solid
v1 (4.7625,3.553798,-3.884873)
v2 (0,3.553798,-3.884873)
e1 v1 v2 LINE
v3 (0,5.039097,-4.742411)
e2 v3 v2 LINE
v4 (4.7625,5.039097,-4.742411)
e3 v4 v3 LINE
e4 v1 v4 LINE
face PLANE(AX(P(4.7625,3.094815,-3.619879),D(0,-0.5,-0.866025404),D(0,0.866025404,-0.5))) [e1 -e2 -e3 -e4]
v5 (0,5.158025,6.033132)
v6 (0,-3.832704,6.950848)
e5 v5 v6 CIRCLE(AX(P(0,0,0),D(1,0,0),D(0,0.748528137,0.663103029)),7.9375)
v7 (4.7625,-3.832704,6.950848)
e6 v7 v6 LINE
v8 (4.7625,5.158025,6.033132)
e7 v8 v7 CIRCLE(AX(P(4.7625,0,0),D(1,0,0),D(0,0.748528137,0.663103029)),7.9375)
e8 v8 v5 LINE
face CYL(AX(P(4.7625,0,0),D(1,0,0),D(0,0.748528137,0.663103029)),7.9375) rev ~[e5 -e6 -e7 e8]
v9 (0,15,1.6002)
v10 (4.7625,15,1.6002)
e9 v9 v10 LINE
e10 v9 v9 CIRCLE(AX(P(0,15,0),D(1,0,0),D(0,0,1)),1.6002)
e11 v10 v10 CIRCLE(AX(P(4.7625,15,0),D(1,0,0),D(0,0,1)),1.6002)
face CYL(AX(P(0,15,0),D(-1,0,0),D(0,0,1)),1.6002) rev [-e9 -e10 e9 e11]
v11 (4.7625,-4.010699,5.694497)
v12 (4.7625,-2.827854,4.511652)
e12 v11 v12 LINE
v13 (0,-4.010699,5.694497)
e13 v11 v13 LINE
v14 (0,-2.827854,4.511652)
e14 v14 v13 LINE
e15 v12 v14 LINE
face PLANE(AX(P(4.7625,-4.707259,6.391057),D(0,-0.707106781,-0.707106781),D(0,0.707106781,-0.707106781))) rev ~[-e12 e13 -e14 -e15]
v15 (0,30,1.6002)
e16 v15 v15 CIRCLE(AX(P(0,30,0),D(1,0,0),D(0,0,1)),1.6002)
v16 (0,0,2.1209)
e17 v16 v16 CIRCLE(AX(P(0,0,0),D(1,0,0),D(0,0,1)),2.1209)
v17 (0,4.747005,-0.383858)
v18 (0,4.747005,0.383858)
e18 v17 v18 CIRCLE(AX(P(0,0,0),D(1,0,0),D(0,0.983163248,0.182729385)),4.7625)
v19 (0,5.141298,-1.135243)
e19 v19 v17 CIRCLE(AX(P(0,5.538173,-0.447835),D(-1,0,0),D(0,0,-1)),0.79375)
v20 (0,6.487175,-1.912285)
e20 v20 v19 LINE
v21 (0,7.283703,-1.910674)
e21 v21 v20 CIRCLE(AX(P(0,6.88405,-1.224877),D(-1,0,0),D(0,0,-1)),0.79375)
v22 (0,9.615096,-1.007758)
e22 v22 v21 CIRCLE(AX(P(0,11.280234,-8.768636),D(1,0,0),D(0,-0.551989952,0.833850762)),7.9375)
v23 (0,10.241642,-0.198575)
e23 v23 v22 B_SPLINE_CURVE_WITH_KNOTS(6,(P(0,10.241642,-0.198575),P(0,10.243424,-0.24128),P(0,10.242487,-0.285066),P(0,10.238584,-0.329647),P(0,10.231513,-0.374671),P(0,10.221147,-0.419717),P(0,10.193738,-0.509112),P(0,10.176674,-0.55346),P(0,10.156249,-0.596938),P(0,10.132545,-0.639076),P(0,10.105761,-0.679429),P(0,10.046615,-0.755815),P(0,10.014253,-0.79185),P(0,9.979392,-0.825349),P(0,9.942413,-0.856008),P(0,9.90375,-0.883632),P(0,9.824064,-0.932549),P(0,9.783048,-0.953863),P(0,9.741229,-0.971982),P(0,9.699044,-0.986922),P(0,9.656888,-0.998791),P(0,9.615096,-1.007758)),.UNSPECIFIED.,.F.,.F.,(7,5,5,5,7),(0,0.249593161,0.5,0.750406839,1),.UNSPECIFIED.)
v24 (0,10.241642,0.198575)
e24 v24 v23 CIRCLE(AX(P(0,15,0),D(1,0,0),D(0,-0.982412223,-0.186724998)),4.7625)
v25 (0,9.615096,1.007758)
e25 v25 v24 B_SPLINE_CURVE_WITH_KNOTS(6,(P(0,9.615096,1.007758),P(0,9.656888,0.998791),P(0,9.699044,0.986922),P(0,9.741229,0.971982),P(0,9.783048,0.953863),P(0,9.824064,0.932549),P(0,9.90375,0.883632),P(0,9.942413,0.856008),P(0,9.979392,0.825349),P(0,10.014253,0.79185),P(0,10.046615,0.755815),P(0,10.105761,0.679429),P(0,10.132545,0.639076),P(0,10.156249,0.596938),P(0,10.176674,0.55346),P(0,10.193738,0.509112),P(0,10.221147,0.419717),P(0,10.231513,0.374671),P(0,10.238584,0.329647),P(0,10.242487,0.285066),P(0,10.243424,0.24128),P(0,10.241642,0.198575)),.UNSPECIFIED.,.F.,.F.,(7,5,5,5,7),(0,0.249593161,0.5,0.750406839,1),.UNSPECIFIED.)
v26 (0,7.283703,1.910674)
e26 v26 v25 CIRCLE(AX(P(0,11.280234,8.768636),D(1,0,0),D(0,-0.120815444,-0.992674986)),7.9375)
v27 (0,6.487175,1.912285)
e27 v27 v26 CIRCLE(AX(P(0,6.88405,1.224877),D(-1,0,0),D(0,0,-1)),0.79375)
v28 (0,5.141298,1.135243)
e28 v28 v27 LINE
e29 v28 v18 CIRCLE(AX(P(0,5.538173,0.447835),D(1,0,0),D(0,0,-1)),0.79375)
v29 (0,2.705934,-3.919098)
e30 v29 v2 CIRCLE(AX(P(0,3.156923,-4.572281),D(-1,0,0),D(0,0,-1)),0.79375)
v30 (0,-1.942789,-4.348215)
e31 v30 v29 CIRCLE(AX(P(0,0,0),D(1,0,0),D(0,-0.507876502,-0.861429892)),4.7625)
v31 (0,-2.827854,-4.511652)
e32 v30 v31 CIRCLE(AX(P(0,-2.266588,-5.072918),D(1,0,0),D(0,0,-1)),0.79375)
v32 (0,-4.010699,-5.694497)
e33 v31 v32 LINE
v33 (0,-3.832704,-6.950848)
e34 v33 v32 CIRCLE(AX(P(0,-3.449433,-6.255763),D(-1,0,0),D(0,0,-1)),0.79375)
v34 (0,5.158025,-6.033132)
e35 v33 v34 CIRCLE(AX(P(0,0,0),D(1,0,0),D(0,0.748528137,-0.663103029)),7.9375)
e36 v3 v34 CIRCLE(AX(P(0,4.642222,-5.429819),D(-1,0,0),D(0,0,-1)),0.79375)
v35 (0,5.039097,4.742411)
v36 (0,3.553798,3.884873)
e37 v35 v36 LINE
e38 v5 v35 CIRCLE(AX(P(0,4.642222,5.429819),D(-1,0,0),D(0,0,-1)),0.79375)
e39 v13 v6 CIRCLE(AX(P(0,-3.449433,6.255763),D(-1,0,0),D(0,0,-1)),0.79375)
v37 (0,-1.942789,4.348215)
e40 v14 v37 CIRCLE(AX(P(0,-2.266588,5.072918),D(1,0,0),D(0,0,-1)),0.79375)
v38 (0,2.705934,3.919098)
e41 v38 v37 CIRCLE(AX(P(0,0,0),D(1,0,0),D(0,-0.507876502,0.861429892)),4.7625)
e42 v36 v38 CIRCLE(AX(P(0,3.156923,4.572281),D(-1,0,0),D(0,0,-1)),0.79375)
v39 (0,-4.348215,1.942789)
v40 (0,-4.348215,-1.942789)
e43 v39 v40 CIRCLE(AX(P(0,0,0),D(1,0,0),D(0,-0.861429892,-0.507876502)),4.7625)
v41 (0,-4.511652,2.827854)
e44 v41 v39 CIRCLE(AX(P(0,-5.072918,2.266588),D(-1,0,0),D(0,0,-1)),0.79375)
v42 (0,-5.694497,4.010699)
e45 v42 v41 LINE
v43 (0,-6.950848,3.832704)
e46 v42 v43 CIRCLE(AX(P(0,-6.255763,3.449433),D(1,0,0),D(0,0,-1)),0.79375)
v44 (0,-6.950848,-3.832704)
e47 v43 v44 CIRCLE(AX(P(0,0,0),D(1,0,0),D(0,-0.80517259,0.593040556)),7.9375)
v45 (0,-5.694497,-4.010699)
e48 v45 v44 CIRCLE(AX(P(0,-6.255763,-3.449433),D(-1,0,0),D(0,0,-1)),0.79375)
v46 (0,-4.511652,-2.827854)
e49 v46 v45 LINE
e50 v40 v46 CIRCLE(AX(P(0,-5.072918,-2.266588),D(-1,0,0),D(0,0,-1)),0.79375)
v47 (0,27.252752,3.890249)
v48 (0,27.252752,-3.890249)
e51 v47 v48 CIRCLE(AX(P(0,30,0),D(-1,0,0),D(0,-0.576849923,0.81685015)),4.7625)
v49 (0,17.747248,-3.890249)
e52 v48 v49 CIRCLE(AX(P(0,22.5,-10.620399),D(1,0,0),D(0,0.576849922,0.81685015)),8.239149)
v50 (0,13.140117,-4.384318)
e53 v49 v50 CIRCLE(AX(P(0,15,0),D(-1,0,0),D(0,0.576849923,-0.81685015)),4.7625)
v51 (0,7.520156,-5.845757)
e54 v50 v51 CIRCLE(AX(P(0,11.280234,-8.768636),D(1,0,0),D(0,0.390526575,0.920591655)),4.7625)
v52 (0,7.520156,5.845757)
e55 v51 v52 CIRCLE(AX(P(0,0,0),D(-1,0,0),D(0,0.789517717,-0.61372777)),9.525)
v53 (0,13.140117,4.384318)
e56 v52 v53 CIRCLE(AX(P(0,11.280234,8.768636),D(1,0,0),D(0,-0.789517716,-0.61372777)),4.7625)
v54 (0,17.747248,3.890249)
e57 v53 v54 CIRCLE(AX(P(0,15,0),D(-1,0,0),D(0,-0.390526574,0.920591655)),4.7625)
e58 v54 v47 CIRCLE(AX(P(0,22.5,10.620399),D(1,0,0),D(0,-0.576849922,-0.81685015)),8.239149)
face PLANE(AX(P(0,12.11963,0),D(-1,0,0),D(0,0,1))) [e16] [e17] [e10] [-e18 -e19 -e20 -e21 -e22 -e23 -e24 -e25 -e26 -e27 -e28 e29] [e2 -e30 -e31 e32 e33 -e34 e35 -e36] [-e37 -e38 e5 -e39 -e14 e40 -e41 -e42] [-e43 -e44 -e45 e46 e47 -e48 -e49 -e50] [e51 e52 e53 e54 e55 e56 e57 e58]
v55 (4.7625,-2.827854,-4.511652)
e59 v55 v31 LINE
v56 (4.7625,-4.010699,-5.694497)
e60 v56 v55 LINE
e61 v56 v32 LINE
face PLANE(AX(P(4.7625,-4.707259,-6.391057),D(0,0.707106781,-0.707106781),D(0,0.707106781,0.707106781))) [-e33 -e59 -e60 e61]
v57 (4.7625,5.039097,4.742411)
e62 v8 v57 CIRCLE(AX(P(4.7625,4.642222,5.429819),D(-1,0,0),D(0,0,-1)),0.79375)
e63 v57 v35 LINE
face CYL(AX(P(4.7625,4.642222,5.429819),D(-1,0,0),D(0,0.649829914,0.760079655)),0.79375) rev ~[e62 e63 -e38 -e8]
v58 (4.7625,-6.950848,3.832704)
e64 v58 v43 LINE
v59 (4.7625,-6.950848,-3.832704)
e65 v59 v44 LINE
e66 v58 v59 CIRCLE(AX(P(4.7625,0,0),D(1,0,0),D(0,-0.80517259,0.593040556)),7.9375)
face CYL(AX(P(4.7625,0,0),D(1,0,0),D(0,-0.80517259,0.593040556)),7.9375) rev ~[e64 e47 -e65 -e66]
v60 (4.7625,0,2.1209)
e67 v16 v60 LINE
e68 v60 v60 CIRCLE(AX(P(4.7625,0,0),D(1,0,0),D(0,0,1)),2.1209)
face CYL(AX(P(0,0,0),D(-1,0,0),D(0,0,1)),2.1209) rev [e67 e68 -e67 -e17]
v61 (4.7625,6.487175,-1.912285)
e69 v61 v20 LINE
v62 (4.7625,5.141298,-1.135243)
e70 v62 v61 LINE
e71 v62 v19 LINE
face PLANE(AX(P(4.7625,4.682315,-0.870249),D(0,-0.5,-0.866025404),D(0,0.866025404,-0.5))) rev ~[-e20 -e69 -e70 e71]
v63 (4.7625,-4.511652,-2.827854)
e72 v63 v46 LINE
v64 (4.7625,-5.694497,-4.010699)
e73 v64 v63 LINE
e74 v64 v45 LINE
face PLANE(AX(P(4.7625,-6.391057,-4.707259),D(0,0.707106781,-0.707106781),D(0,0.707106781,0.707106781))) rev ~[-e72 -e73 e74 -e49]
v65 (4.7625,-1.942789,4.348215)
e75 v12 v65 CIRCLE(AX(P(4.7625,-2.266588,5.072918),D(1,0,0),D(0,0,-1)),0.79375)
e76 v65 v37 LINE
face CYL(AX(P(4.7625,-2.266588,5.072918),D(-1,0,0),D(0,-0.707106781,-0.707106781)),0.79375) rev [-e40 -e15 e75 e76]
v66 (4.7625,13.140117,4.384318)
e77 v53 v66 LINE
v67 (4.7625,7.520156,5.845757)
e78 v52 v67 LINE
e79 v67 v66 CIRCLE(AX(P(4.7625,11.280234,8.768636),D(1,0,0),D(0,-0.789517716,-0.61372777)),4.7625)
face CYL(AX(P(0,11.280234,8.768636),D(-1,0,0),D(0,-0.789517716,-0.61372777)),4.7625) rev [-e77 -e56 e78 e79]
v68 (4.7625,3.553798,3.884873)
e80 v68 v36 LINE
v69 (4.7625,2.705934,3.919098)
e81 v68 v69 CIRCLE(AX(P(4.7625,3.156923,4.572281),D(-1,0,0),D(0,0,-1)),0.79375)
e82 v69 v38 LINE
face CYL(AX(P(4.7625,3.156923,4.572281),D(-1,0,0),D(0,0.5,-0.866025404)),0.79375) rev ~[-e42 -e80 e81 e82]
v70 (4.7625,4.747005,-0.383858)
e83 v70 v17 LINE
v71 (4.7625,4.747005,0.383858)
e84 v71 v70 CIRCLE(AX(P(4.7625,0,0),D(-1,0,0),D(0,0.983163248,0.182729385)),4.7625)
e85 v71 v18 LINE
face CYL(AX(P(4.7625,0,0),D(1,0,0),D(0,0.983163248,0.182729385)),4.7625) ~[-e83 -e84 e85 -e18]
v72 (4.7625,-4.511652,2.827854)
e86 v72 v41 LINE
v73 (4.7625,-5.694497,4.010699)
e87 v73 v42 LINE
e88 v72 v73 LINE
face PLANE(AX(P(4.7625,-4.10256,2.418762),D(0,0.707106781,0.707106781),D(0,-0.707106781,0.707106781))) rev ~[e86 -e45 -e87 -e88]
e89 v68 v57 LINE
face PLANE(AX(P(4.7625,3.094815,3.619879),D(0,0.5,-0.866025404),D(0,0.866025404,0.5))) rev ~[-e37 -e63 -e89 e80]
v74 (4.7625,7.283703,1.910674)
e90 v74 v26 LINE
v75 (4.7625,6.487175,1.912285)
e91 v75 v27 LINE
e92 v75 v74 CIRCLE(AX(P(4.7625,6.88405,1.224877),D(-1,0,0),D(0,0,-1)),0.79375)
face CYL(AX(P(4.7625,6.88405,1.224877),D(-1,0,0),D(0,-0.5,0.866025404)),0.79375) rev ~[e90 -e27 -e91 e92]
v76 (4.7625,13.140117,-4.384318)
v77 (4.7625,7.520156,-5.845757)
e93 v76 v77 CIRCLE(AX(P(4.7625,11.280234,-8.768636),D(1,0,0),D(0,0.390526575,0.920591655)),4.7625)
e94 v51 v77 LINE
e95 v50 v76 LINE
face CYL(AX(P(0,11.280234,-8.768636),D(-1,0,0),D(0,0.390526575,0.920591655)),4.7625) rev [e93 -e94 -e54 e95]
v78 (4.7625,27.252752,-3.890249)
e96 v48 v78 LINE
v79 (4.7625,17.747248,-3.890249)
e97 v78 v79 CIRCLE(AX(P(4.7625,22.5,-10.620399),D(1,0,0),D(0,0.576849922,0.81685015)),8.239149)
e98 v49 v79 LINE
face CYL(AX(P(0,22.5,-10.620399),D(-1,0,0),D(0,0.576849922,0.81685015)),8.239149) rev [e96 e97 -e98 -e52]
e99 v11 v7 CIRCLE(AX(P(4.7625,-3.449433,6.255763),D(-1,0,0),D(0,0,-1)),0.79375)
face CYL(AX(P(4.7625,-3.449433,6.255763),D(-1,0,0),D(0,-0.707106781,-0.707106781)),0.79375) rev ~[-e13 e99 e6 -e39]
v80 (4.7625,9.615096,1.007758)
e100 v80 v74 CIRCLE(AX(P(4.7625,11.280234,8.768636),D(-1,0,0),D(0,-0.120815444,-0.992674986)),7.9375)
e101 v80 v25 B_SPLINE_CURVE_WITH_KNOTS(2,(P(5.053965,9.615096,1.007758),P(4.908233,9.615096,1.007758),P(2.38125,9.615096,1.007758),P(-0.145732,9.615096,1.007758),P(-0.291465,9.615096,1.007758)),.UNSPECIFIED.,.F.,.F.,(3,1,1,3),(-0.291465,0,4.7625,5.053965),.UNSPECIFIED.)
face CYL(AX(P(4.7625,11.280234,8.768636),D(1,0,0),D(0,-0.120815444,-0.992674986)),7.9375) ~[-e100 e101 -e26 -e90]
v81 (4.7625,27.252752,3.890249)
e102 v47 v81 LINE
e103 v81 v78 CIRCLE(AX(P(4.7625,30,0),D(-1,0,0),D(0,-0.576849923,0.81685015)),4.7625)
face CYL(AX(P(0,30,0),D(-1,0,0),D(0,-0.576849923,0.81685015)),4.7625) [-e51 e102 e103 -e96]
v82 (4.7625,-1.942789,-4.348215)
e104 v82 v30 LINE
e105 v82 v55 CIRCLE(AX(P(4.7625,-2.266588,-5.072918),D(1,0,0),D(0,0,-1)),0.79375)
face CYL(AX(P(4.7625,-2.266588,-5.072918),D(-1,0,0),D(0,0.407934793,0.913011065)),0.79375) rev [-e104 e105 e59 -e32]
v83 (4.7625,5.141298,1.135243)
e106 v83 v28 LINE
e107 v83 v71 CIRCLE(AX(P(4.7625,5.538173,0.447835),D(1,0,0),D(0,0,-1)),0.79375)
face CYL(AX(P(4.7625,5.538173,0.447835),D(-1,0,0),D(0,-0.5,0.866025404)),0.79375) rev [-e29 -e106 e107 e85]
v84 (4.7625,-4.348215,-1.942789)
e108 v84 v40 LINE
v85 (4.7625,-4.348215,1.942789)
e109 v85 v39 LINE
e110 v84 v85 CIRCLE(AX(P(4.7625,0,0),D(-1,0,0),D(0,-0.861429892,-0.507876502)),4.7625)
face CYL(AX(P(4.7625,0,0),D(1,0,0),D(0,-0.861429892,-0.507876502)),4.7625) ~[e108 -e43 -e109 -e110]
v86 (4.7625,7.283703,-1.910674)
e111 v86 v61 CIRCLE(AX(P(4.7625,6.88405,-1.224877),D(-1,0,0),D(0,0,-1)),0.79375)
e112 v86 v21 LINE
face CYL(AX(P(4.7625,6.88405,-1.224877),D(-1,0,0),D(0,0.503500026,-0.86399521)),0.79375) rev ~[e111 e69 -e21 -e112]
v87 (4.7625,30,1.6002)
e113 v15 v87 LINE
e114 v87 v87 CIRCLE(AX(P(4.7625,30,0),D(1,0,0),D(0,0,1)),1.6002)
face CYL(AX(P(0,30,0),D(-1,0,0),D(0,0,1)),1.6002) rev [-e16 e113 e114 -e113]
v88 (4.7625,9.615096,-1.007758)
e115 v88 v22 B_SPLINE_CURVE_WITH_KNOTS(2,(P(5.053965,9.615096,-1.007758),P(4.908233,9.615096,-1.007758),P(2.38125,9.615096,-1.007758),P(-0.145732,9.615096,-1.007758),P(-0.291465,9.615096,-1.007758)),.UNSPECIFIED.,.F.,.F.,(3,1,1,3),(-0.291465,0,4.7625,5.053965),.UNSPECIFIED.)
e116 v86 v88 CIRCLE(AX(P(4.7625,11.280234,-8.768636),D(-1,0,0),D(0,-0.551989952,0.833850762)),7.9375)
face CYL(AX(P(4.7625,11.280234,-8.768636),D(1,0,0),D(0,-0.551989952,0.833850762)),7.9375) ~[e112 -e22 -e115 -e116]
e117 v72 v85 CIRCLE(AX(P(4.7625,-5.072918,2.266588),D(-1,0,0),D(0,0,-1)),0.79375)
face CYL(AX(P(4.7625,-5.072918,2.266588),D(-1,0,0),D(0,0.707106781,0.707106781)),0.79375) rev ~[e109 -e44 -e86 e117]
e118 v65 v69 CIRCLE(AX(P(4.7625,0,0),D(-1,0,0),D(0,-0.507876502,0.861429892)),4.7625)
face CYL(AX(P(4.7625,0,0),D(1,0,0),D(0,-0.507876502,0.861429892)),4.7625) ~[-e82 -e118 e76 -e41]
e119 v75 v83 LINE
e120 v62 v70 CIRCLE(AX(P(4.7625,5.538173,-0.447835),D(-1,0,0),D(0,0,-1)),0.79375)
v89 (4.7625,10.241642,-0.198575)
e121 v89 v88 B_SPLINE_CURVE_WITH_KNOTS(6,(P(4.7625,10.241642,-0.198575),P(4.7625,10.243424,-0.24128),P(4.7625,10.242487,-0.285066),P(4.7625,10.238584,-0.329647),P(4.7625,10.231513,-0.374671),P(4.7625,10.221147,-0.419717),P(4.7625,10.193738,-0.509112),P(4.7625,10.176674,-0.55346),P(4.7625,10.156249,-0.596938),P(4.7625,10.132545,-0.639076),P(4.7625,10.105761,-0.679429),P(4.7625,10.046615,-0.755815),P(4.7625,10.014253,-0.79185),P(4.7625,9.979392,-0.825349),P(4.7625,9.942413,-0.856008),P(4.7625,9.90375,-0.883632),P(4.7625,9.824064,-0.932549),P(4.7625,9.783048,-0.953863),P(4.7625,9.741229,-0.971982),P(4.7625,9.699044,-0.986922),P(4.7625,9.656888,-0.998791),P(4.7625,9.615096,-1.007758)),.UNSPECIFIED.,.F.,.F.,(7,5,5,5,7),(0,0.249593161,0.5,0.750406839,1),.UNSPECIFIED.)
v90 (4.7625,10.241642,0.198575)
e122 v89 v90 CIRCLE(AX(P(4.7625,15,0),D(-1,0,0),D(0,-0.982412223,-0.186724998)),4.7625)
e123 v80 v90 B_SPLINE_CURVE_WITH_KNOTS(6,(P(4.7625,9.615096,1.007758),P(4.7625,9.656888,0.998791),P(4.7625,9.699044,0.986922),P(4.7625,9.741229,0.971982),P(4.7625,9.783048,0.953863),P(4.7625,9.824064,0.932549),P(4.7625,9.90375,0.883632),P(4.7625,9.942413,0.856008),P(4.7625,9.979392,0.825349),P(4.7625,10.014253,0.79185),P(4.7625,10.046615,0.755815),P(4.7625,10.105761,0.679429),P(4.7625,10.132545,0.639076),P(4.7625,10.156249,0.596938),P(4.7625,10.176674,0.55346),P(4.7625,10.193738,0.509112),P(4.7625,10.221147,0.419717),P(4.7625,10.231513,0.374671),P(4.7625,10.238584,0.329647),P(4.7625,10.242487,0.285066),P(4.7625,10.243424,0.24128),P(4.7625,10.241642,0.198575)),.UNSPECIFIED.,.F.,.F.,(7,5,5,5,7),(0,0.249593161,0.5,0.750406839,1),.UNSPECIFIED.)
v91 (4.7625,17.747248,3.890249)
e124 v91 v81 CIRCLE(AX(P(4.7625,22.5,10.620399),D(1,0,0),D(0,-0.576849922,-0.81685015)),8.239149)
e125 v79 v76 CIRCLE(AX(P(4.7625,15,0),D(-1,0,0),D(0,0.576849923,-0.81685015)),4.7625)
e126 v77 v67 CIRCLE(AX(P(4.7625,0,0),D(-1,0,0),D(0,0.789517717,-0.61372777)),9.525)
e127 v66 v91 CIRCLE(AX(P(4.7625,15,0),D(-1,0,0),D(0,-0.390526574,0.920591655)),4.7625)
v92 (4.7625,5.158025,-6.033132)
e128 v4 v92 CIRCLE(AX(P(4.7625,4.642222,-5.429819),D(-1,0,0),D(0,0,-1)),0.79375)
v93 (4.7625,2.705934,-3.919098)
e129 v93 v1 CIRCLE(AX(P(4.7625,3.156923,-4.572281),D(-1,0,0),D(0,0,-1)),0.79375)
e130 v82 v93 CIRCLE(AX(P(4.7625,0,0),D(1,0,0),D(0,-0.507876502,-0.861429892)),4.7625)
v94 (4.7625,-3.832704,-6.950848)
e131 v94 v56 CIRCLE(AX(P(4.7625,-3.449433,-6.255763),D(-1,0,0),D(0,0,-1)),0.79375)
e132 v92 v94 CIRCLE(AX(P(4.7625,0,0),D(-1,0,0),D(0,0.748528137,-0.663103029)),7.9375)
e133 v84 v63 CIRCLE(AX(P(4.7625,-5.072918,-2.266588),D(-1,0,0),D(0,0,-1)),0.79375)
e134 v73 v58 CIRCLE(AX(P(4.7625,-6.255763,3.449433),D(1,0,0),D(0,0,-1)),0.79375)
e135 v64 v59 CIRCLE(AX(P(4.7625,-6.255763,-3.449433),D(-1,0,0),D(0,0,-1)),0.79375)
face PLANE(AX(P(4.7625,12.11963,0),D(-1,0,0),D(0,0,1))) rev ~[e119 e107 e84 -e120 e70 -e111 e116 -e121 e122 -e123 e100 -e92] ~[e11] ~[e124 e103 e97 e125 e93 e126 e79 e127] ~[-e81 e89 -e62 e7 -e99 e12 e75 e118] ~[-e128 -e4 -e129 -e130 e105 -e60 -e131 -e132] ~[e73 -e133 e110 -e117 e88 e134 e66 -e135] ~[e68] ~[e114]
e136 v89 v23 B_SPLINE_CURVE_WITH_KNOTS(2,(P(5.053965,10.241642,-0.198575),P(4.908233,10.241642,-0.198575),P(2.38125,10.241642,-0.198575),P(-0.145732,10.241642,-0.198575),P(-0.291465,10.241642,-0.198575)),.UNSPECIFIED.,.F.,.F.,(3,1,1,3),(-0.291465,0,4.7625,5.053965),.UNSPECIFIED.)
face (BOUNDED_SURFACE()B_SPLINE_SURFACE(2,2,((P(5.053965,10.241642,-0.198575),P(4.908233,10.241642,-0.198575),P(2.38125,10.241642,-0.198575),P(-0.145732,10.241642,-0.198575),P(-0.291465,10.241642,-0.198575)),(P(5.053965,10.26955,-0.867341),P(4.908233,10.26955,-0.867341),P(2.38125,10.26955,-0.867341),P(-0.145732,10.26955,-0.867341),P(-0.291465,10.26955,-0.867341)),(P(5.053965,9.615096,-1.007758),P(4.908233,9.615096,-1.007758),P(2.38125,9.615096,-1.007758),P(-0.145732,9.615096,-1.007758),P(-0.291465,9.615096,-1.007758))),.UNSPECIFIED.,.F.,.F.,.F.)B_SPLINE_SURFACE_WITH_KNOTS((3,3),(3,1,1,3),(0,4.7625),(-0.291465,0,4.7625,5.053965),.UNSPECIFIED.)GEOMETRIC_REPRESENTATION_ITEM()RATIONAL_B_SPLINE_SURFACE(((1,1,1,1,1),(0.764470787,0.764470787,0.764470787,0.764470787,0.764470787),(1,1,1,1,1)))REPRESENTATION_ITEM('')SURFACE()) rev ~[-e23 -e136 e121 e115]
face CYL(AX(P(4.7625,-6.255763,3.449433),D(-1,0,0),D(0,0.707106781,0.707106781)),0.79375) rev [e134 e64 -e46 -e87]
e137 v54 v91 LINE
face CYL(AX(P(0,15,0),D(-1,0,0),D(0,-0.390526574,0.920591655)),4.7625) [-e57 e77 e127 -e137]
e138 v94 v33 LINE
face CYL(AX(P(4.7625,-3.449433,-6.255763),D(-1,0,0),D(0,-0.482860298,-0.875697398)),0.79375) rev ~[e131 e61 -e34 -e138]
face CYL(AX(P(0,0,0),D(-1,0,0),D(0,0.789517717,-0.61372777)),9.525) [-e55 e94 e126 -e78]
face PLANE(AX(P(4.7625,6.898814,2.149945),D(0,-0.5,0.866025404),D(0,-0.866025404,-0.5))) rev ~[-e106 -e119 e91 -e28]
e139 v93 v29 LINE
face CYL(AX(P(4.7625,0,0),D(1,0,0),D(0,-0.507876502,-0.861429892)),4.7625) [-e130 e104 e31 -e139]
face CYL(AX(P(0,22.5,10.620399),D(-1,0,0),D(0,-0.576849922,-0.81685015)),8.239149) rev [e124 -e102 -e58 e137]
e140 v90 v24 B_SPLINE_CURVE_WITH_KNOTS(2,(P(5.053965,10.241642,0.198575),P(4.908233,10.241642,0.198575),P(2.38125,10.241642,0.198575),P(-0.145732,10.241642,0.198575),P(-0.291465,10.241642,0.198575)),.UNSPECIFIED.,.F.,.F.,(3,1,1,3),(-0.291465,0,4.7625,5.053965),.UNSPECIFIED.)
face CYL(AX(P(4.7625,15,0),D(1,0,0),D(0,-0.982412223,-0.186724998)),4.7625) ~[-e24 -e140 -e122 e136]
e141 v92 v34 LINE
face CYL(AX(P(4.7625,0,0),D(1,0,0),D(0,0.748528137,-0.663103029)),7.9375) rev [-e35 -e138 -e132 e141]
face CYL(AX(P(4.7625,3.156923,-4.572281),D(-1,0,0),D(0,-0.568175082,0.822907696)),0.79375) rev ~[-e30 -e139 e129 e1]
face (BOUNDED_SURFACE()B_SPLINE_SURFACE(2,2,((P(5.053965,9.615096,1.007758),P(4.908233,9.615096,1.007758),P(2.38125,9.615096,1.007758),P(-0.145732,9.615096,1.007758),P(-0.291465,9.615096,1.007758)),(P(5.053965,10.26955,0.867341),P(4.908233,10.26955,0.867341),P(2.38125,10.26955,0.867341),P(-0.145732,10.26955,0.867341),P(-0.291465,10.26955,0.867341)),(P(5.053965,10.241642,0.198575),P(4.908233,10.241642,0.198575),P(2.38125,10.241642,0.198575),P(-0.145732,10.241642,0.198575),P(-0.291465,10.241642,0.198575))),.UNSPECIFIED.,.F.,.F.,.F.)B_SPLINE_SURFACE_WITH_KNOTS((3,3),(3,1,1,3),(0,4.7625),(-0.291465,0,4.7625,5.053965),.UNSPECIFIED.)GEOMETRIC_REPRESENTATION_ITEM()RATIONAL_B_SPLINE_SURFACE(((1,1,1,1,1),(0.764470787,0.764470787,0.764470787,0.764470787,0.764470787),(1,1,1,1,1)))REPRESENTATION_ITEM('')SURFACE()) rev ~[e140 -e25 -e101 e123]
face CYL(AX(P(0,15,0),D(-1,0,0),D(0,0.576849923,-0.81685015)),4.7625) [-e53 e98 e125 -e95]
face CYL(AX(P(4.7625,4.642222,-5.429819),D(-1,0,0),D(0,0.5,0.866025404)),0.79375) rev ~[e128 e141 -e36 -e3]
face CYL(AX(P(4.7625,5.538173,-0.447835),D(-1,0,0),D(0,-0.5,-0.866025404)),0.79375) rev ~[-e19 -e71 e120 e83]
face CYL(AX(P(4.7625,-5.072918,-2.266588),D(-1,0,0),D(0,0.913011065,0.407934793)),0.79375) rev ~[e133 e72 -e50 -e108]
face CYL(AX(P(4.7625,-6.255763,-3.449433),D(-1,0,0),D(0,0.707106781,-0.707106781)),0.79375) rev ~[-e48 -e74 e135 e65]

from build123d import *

# Parameters (mm, degrees)
SKETCH1_R           = 2.1209
SKETCH1_R_2         = 1.6002
BOSS_EXTRUDE1_DEPTH = 4.7625
CUT_EXTRUDE1_DEPTH  = 37.357096109
FILLET1_R           = 0.79375


with BuildPart() as part:
    # Sketch1 → Boss-Extrude1 (new body)
    with BuildSketch(Plane(origin=(0, 0, 0), x_dir=(0, 0, -1), z_dir=(1, 0, 0))):
        with BuildLine():
            ThreePointArc((-3.890248837, 27.252752244), (0, 34.7625), (3.890248837, 27.252752244))
            ThreePointArc((3.890248837, 27.252752244), (2.38125, 22.5), (3.890248837, 17.747247756))
            ThreePointArc((3.890248837, 17.747247756), (4.735348571, 15.507819022), (4.384317755, 13.140117187))
            ThreePointArc((4.384317755, 13.140117187), (4.159430641, 10.081636558), (5.845757006, 7.52015625))
            ThreePointArc((5.845757006, 7.52015625), (0, -9.525), (-5.845757006, 7.52015625))
            ThreePointArc((-5.845757006, 7.52015625), (-4.159430641, 10.081636558), (-4.384317755, 13.140117187))
            ThreePointArc((-4.384317755, 13.140117187), (-4.735348571, 15.507819022), (-3.890248837, 17.747247756))
            ThreePointArc((-3.890248837, 17.747247756), (-2.38125, 22.5), (-3.890248837, 27.252752244))
        make_face()
        with Locations(Location((0, 0, 0), (0, 0, 180))):
            Circle(SKETCH1_R, mode=Mode.SUBTRACT)
        with Locations(Location((0, 15, 0), (0, 0, 180))):
            Circle(SKETCH1_R_2, mode=Mode.SUBTRACT)
        with Locations(Location((0, 30, 0), (0, 0, 180))):
            Circle(SKETCH1_R_2, mode=Mode.SUBTRACT)
    extrude(amount=BOSS_EXTRUDE1_DEPTH)

    # Sketch2 → Cut-Extrude1 (cut, through all)
    with BuildSketch(Plane(origin=(4.7625, 0, 0), x_dir=(0, 0, -1), z_dir=(1, 0, 0))):
        with BuildLine():
            Line((-6.391057432, -4.707259409), (-4.102559861, -2.418761839))
            ThreePointArc((-4.102559861, -2.418761839), (-4.744354453, 0.41533971), (-3.619879359, 3.094814967))
            Line((-3.619879359, 3.094814967), (-5.263380295, 5.941442091))
            ThreePointArc((-5.263380295, 5.941442091), (-7.893363706, 0.835892131), (-6.391057432, -4.707259409))
        make_face()
        with BuildLine():
            Line((-2.418761839, -4.102559861), (-4.707259409, -6.391057432))
            ThreePointArc((-4.707259409, -6.391057432), (0, -7.9375), (4.707259409, -6.391057432))
            Line((4.707259409, -6.391057432), (2.418761839, -4.102559861))
            ThreePointArc((2.418761839, -4.102559861), (0, -4.7625), (-2.418761839, -4.102559861))
        make_face()
        with BuildLine():
            Line((-2.149945089, 6.898814128), (-0.870248702, 4.682314967))
            ThreePointArc((-0.870248702, 4.682314967), (0, 4.7625), (0.870248702, 4.682314967))
            Line((0.870248702, 4.682314967), (2.149945089, 6.898814128))
            ThreePointArc((2.149945089, 6.898814128), (1.320371493, 8.536647417), (0.889277805, 10.32126179))
            ThreePointArc((0.889277805, 10.32126179), (0, 10.2375), (-0.889277805, 10.32126179))
            ThreePointArc((-0.889277805, 10.32126179), (-1.320371493, 8.536647417), (-2.149945089, 6.898814128))
        make_face()
        with BuildLine():
            Line((6.391057432, -4.707259409), (4.102559861, -2.418761839))
            ThreePointArc((4.102559861, -2.418761839), (4.744354453, 0.41533971), (3.619879359, 3.094814967))
            Line((3.619879359, 3.094814967), (5.263380295, 5.941442091))
            ThreePointArc((5.263380295, 5.941442091), (7.893363706, 0.835892131), (6.391057432, -4.707259409))
        make_face()
    extrude(amount=-CUT_EXTRUDE1_DEPTH, mode=Mode.SUBTRACT)

    # Fillet1
    fillet1_edges = [part.edges().sort_by_distance(p)[0] for p in [
        (2.38125, -4.102559861, 2.418761839),
        (2.38125, -4.102559861, -2.418761839),
        (2.38125, -6.391057432, -4.707259409),
        (2.38125, -6.391057432, 4.707259409),
        (2.38125, 4.682314967, -0.870248702),
        (2.38125, 4.682314967, 0.870248702),
        (2.38125, 6.898814128, 2.149945089),
        (2.38125, 10.32126179, 0.889277805),
        (2.38125, 10.32126179, -0.889277805),
        (2.38125, 6.898814128, -2.149945089),
        (2.38125, 5.941442091, -5.263380295),
        (2.38125, -4.707259409, -6.391057432),
        (2.38125, -2.418761839, -4.102559861),
        (2.38125, 3.094814967, -3.619879359),
        (2.38125, -4.707259409, 6.391057432),
        (2.38125, 5.941442091, 5.263380295),
        (2.38125, 3.094814967, 3.619879359),
        (2.38125, -2.418761839, 4.102559861),
    ]]
    fillet(fillet1_edges, radius=FILLET1_R)


solid = part.part
